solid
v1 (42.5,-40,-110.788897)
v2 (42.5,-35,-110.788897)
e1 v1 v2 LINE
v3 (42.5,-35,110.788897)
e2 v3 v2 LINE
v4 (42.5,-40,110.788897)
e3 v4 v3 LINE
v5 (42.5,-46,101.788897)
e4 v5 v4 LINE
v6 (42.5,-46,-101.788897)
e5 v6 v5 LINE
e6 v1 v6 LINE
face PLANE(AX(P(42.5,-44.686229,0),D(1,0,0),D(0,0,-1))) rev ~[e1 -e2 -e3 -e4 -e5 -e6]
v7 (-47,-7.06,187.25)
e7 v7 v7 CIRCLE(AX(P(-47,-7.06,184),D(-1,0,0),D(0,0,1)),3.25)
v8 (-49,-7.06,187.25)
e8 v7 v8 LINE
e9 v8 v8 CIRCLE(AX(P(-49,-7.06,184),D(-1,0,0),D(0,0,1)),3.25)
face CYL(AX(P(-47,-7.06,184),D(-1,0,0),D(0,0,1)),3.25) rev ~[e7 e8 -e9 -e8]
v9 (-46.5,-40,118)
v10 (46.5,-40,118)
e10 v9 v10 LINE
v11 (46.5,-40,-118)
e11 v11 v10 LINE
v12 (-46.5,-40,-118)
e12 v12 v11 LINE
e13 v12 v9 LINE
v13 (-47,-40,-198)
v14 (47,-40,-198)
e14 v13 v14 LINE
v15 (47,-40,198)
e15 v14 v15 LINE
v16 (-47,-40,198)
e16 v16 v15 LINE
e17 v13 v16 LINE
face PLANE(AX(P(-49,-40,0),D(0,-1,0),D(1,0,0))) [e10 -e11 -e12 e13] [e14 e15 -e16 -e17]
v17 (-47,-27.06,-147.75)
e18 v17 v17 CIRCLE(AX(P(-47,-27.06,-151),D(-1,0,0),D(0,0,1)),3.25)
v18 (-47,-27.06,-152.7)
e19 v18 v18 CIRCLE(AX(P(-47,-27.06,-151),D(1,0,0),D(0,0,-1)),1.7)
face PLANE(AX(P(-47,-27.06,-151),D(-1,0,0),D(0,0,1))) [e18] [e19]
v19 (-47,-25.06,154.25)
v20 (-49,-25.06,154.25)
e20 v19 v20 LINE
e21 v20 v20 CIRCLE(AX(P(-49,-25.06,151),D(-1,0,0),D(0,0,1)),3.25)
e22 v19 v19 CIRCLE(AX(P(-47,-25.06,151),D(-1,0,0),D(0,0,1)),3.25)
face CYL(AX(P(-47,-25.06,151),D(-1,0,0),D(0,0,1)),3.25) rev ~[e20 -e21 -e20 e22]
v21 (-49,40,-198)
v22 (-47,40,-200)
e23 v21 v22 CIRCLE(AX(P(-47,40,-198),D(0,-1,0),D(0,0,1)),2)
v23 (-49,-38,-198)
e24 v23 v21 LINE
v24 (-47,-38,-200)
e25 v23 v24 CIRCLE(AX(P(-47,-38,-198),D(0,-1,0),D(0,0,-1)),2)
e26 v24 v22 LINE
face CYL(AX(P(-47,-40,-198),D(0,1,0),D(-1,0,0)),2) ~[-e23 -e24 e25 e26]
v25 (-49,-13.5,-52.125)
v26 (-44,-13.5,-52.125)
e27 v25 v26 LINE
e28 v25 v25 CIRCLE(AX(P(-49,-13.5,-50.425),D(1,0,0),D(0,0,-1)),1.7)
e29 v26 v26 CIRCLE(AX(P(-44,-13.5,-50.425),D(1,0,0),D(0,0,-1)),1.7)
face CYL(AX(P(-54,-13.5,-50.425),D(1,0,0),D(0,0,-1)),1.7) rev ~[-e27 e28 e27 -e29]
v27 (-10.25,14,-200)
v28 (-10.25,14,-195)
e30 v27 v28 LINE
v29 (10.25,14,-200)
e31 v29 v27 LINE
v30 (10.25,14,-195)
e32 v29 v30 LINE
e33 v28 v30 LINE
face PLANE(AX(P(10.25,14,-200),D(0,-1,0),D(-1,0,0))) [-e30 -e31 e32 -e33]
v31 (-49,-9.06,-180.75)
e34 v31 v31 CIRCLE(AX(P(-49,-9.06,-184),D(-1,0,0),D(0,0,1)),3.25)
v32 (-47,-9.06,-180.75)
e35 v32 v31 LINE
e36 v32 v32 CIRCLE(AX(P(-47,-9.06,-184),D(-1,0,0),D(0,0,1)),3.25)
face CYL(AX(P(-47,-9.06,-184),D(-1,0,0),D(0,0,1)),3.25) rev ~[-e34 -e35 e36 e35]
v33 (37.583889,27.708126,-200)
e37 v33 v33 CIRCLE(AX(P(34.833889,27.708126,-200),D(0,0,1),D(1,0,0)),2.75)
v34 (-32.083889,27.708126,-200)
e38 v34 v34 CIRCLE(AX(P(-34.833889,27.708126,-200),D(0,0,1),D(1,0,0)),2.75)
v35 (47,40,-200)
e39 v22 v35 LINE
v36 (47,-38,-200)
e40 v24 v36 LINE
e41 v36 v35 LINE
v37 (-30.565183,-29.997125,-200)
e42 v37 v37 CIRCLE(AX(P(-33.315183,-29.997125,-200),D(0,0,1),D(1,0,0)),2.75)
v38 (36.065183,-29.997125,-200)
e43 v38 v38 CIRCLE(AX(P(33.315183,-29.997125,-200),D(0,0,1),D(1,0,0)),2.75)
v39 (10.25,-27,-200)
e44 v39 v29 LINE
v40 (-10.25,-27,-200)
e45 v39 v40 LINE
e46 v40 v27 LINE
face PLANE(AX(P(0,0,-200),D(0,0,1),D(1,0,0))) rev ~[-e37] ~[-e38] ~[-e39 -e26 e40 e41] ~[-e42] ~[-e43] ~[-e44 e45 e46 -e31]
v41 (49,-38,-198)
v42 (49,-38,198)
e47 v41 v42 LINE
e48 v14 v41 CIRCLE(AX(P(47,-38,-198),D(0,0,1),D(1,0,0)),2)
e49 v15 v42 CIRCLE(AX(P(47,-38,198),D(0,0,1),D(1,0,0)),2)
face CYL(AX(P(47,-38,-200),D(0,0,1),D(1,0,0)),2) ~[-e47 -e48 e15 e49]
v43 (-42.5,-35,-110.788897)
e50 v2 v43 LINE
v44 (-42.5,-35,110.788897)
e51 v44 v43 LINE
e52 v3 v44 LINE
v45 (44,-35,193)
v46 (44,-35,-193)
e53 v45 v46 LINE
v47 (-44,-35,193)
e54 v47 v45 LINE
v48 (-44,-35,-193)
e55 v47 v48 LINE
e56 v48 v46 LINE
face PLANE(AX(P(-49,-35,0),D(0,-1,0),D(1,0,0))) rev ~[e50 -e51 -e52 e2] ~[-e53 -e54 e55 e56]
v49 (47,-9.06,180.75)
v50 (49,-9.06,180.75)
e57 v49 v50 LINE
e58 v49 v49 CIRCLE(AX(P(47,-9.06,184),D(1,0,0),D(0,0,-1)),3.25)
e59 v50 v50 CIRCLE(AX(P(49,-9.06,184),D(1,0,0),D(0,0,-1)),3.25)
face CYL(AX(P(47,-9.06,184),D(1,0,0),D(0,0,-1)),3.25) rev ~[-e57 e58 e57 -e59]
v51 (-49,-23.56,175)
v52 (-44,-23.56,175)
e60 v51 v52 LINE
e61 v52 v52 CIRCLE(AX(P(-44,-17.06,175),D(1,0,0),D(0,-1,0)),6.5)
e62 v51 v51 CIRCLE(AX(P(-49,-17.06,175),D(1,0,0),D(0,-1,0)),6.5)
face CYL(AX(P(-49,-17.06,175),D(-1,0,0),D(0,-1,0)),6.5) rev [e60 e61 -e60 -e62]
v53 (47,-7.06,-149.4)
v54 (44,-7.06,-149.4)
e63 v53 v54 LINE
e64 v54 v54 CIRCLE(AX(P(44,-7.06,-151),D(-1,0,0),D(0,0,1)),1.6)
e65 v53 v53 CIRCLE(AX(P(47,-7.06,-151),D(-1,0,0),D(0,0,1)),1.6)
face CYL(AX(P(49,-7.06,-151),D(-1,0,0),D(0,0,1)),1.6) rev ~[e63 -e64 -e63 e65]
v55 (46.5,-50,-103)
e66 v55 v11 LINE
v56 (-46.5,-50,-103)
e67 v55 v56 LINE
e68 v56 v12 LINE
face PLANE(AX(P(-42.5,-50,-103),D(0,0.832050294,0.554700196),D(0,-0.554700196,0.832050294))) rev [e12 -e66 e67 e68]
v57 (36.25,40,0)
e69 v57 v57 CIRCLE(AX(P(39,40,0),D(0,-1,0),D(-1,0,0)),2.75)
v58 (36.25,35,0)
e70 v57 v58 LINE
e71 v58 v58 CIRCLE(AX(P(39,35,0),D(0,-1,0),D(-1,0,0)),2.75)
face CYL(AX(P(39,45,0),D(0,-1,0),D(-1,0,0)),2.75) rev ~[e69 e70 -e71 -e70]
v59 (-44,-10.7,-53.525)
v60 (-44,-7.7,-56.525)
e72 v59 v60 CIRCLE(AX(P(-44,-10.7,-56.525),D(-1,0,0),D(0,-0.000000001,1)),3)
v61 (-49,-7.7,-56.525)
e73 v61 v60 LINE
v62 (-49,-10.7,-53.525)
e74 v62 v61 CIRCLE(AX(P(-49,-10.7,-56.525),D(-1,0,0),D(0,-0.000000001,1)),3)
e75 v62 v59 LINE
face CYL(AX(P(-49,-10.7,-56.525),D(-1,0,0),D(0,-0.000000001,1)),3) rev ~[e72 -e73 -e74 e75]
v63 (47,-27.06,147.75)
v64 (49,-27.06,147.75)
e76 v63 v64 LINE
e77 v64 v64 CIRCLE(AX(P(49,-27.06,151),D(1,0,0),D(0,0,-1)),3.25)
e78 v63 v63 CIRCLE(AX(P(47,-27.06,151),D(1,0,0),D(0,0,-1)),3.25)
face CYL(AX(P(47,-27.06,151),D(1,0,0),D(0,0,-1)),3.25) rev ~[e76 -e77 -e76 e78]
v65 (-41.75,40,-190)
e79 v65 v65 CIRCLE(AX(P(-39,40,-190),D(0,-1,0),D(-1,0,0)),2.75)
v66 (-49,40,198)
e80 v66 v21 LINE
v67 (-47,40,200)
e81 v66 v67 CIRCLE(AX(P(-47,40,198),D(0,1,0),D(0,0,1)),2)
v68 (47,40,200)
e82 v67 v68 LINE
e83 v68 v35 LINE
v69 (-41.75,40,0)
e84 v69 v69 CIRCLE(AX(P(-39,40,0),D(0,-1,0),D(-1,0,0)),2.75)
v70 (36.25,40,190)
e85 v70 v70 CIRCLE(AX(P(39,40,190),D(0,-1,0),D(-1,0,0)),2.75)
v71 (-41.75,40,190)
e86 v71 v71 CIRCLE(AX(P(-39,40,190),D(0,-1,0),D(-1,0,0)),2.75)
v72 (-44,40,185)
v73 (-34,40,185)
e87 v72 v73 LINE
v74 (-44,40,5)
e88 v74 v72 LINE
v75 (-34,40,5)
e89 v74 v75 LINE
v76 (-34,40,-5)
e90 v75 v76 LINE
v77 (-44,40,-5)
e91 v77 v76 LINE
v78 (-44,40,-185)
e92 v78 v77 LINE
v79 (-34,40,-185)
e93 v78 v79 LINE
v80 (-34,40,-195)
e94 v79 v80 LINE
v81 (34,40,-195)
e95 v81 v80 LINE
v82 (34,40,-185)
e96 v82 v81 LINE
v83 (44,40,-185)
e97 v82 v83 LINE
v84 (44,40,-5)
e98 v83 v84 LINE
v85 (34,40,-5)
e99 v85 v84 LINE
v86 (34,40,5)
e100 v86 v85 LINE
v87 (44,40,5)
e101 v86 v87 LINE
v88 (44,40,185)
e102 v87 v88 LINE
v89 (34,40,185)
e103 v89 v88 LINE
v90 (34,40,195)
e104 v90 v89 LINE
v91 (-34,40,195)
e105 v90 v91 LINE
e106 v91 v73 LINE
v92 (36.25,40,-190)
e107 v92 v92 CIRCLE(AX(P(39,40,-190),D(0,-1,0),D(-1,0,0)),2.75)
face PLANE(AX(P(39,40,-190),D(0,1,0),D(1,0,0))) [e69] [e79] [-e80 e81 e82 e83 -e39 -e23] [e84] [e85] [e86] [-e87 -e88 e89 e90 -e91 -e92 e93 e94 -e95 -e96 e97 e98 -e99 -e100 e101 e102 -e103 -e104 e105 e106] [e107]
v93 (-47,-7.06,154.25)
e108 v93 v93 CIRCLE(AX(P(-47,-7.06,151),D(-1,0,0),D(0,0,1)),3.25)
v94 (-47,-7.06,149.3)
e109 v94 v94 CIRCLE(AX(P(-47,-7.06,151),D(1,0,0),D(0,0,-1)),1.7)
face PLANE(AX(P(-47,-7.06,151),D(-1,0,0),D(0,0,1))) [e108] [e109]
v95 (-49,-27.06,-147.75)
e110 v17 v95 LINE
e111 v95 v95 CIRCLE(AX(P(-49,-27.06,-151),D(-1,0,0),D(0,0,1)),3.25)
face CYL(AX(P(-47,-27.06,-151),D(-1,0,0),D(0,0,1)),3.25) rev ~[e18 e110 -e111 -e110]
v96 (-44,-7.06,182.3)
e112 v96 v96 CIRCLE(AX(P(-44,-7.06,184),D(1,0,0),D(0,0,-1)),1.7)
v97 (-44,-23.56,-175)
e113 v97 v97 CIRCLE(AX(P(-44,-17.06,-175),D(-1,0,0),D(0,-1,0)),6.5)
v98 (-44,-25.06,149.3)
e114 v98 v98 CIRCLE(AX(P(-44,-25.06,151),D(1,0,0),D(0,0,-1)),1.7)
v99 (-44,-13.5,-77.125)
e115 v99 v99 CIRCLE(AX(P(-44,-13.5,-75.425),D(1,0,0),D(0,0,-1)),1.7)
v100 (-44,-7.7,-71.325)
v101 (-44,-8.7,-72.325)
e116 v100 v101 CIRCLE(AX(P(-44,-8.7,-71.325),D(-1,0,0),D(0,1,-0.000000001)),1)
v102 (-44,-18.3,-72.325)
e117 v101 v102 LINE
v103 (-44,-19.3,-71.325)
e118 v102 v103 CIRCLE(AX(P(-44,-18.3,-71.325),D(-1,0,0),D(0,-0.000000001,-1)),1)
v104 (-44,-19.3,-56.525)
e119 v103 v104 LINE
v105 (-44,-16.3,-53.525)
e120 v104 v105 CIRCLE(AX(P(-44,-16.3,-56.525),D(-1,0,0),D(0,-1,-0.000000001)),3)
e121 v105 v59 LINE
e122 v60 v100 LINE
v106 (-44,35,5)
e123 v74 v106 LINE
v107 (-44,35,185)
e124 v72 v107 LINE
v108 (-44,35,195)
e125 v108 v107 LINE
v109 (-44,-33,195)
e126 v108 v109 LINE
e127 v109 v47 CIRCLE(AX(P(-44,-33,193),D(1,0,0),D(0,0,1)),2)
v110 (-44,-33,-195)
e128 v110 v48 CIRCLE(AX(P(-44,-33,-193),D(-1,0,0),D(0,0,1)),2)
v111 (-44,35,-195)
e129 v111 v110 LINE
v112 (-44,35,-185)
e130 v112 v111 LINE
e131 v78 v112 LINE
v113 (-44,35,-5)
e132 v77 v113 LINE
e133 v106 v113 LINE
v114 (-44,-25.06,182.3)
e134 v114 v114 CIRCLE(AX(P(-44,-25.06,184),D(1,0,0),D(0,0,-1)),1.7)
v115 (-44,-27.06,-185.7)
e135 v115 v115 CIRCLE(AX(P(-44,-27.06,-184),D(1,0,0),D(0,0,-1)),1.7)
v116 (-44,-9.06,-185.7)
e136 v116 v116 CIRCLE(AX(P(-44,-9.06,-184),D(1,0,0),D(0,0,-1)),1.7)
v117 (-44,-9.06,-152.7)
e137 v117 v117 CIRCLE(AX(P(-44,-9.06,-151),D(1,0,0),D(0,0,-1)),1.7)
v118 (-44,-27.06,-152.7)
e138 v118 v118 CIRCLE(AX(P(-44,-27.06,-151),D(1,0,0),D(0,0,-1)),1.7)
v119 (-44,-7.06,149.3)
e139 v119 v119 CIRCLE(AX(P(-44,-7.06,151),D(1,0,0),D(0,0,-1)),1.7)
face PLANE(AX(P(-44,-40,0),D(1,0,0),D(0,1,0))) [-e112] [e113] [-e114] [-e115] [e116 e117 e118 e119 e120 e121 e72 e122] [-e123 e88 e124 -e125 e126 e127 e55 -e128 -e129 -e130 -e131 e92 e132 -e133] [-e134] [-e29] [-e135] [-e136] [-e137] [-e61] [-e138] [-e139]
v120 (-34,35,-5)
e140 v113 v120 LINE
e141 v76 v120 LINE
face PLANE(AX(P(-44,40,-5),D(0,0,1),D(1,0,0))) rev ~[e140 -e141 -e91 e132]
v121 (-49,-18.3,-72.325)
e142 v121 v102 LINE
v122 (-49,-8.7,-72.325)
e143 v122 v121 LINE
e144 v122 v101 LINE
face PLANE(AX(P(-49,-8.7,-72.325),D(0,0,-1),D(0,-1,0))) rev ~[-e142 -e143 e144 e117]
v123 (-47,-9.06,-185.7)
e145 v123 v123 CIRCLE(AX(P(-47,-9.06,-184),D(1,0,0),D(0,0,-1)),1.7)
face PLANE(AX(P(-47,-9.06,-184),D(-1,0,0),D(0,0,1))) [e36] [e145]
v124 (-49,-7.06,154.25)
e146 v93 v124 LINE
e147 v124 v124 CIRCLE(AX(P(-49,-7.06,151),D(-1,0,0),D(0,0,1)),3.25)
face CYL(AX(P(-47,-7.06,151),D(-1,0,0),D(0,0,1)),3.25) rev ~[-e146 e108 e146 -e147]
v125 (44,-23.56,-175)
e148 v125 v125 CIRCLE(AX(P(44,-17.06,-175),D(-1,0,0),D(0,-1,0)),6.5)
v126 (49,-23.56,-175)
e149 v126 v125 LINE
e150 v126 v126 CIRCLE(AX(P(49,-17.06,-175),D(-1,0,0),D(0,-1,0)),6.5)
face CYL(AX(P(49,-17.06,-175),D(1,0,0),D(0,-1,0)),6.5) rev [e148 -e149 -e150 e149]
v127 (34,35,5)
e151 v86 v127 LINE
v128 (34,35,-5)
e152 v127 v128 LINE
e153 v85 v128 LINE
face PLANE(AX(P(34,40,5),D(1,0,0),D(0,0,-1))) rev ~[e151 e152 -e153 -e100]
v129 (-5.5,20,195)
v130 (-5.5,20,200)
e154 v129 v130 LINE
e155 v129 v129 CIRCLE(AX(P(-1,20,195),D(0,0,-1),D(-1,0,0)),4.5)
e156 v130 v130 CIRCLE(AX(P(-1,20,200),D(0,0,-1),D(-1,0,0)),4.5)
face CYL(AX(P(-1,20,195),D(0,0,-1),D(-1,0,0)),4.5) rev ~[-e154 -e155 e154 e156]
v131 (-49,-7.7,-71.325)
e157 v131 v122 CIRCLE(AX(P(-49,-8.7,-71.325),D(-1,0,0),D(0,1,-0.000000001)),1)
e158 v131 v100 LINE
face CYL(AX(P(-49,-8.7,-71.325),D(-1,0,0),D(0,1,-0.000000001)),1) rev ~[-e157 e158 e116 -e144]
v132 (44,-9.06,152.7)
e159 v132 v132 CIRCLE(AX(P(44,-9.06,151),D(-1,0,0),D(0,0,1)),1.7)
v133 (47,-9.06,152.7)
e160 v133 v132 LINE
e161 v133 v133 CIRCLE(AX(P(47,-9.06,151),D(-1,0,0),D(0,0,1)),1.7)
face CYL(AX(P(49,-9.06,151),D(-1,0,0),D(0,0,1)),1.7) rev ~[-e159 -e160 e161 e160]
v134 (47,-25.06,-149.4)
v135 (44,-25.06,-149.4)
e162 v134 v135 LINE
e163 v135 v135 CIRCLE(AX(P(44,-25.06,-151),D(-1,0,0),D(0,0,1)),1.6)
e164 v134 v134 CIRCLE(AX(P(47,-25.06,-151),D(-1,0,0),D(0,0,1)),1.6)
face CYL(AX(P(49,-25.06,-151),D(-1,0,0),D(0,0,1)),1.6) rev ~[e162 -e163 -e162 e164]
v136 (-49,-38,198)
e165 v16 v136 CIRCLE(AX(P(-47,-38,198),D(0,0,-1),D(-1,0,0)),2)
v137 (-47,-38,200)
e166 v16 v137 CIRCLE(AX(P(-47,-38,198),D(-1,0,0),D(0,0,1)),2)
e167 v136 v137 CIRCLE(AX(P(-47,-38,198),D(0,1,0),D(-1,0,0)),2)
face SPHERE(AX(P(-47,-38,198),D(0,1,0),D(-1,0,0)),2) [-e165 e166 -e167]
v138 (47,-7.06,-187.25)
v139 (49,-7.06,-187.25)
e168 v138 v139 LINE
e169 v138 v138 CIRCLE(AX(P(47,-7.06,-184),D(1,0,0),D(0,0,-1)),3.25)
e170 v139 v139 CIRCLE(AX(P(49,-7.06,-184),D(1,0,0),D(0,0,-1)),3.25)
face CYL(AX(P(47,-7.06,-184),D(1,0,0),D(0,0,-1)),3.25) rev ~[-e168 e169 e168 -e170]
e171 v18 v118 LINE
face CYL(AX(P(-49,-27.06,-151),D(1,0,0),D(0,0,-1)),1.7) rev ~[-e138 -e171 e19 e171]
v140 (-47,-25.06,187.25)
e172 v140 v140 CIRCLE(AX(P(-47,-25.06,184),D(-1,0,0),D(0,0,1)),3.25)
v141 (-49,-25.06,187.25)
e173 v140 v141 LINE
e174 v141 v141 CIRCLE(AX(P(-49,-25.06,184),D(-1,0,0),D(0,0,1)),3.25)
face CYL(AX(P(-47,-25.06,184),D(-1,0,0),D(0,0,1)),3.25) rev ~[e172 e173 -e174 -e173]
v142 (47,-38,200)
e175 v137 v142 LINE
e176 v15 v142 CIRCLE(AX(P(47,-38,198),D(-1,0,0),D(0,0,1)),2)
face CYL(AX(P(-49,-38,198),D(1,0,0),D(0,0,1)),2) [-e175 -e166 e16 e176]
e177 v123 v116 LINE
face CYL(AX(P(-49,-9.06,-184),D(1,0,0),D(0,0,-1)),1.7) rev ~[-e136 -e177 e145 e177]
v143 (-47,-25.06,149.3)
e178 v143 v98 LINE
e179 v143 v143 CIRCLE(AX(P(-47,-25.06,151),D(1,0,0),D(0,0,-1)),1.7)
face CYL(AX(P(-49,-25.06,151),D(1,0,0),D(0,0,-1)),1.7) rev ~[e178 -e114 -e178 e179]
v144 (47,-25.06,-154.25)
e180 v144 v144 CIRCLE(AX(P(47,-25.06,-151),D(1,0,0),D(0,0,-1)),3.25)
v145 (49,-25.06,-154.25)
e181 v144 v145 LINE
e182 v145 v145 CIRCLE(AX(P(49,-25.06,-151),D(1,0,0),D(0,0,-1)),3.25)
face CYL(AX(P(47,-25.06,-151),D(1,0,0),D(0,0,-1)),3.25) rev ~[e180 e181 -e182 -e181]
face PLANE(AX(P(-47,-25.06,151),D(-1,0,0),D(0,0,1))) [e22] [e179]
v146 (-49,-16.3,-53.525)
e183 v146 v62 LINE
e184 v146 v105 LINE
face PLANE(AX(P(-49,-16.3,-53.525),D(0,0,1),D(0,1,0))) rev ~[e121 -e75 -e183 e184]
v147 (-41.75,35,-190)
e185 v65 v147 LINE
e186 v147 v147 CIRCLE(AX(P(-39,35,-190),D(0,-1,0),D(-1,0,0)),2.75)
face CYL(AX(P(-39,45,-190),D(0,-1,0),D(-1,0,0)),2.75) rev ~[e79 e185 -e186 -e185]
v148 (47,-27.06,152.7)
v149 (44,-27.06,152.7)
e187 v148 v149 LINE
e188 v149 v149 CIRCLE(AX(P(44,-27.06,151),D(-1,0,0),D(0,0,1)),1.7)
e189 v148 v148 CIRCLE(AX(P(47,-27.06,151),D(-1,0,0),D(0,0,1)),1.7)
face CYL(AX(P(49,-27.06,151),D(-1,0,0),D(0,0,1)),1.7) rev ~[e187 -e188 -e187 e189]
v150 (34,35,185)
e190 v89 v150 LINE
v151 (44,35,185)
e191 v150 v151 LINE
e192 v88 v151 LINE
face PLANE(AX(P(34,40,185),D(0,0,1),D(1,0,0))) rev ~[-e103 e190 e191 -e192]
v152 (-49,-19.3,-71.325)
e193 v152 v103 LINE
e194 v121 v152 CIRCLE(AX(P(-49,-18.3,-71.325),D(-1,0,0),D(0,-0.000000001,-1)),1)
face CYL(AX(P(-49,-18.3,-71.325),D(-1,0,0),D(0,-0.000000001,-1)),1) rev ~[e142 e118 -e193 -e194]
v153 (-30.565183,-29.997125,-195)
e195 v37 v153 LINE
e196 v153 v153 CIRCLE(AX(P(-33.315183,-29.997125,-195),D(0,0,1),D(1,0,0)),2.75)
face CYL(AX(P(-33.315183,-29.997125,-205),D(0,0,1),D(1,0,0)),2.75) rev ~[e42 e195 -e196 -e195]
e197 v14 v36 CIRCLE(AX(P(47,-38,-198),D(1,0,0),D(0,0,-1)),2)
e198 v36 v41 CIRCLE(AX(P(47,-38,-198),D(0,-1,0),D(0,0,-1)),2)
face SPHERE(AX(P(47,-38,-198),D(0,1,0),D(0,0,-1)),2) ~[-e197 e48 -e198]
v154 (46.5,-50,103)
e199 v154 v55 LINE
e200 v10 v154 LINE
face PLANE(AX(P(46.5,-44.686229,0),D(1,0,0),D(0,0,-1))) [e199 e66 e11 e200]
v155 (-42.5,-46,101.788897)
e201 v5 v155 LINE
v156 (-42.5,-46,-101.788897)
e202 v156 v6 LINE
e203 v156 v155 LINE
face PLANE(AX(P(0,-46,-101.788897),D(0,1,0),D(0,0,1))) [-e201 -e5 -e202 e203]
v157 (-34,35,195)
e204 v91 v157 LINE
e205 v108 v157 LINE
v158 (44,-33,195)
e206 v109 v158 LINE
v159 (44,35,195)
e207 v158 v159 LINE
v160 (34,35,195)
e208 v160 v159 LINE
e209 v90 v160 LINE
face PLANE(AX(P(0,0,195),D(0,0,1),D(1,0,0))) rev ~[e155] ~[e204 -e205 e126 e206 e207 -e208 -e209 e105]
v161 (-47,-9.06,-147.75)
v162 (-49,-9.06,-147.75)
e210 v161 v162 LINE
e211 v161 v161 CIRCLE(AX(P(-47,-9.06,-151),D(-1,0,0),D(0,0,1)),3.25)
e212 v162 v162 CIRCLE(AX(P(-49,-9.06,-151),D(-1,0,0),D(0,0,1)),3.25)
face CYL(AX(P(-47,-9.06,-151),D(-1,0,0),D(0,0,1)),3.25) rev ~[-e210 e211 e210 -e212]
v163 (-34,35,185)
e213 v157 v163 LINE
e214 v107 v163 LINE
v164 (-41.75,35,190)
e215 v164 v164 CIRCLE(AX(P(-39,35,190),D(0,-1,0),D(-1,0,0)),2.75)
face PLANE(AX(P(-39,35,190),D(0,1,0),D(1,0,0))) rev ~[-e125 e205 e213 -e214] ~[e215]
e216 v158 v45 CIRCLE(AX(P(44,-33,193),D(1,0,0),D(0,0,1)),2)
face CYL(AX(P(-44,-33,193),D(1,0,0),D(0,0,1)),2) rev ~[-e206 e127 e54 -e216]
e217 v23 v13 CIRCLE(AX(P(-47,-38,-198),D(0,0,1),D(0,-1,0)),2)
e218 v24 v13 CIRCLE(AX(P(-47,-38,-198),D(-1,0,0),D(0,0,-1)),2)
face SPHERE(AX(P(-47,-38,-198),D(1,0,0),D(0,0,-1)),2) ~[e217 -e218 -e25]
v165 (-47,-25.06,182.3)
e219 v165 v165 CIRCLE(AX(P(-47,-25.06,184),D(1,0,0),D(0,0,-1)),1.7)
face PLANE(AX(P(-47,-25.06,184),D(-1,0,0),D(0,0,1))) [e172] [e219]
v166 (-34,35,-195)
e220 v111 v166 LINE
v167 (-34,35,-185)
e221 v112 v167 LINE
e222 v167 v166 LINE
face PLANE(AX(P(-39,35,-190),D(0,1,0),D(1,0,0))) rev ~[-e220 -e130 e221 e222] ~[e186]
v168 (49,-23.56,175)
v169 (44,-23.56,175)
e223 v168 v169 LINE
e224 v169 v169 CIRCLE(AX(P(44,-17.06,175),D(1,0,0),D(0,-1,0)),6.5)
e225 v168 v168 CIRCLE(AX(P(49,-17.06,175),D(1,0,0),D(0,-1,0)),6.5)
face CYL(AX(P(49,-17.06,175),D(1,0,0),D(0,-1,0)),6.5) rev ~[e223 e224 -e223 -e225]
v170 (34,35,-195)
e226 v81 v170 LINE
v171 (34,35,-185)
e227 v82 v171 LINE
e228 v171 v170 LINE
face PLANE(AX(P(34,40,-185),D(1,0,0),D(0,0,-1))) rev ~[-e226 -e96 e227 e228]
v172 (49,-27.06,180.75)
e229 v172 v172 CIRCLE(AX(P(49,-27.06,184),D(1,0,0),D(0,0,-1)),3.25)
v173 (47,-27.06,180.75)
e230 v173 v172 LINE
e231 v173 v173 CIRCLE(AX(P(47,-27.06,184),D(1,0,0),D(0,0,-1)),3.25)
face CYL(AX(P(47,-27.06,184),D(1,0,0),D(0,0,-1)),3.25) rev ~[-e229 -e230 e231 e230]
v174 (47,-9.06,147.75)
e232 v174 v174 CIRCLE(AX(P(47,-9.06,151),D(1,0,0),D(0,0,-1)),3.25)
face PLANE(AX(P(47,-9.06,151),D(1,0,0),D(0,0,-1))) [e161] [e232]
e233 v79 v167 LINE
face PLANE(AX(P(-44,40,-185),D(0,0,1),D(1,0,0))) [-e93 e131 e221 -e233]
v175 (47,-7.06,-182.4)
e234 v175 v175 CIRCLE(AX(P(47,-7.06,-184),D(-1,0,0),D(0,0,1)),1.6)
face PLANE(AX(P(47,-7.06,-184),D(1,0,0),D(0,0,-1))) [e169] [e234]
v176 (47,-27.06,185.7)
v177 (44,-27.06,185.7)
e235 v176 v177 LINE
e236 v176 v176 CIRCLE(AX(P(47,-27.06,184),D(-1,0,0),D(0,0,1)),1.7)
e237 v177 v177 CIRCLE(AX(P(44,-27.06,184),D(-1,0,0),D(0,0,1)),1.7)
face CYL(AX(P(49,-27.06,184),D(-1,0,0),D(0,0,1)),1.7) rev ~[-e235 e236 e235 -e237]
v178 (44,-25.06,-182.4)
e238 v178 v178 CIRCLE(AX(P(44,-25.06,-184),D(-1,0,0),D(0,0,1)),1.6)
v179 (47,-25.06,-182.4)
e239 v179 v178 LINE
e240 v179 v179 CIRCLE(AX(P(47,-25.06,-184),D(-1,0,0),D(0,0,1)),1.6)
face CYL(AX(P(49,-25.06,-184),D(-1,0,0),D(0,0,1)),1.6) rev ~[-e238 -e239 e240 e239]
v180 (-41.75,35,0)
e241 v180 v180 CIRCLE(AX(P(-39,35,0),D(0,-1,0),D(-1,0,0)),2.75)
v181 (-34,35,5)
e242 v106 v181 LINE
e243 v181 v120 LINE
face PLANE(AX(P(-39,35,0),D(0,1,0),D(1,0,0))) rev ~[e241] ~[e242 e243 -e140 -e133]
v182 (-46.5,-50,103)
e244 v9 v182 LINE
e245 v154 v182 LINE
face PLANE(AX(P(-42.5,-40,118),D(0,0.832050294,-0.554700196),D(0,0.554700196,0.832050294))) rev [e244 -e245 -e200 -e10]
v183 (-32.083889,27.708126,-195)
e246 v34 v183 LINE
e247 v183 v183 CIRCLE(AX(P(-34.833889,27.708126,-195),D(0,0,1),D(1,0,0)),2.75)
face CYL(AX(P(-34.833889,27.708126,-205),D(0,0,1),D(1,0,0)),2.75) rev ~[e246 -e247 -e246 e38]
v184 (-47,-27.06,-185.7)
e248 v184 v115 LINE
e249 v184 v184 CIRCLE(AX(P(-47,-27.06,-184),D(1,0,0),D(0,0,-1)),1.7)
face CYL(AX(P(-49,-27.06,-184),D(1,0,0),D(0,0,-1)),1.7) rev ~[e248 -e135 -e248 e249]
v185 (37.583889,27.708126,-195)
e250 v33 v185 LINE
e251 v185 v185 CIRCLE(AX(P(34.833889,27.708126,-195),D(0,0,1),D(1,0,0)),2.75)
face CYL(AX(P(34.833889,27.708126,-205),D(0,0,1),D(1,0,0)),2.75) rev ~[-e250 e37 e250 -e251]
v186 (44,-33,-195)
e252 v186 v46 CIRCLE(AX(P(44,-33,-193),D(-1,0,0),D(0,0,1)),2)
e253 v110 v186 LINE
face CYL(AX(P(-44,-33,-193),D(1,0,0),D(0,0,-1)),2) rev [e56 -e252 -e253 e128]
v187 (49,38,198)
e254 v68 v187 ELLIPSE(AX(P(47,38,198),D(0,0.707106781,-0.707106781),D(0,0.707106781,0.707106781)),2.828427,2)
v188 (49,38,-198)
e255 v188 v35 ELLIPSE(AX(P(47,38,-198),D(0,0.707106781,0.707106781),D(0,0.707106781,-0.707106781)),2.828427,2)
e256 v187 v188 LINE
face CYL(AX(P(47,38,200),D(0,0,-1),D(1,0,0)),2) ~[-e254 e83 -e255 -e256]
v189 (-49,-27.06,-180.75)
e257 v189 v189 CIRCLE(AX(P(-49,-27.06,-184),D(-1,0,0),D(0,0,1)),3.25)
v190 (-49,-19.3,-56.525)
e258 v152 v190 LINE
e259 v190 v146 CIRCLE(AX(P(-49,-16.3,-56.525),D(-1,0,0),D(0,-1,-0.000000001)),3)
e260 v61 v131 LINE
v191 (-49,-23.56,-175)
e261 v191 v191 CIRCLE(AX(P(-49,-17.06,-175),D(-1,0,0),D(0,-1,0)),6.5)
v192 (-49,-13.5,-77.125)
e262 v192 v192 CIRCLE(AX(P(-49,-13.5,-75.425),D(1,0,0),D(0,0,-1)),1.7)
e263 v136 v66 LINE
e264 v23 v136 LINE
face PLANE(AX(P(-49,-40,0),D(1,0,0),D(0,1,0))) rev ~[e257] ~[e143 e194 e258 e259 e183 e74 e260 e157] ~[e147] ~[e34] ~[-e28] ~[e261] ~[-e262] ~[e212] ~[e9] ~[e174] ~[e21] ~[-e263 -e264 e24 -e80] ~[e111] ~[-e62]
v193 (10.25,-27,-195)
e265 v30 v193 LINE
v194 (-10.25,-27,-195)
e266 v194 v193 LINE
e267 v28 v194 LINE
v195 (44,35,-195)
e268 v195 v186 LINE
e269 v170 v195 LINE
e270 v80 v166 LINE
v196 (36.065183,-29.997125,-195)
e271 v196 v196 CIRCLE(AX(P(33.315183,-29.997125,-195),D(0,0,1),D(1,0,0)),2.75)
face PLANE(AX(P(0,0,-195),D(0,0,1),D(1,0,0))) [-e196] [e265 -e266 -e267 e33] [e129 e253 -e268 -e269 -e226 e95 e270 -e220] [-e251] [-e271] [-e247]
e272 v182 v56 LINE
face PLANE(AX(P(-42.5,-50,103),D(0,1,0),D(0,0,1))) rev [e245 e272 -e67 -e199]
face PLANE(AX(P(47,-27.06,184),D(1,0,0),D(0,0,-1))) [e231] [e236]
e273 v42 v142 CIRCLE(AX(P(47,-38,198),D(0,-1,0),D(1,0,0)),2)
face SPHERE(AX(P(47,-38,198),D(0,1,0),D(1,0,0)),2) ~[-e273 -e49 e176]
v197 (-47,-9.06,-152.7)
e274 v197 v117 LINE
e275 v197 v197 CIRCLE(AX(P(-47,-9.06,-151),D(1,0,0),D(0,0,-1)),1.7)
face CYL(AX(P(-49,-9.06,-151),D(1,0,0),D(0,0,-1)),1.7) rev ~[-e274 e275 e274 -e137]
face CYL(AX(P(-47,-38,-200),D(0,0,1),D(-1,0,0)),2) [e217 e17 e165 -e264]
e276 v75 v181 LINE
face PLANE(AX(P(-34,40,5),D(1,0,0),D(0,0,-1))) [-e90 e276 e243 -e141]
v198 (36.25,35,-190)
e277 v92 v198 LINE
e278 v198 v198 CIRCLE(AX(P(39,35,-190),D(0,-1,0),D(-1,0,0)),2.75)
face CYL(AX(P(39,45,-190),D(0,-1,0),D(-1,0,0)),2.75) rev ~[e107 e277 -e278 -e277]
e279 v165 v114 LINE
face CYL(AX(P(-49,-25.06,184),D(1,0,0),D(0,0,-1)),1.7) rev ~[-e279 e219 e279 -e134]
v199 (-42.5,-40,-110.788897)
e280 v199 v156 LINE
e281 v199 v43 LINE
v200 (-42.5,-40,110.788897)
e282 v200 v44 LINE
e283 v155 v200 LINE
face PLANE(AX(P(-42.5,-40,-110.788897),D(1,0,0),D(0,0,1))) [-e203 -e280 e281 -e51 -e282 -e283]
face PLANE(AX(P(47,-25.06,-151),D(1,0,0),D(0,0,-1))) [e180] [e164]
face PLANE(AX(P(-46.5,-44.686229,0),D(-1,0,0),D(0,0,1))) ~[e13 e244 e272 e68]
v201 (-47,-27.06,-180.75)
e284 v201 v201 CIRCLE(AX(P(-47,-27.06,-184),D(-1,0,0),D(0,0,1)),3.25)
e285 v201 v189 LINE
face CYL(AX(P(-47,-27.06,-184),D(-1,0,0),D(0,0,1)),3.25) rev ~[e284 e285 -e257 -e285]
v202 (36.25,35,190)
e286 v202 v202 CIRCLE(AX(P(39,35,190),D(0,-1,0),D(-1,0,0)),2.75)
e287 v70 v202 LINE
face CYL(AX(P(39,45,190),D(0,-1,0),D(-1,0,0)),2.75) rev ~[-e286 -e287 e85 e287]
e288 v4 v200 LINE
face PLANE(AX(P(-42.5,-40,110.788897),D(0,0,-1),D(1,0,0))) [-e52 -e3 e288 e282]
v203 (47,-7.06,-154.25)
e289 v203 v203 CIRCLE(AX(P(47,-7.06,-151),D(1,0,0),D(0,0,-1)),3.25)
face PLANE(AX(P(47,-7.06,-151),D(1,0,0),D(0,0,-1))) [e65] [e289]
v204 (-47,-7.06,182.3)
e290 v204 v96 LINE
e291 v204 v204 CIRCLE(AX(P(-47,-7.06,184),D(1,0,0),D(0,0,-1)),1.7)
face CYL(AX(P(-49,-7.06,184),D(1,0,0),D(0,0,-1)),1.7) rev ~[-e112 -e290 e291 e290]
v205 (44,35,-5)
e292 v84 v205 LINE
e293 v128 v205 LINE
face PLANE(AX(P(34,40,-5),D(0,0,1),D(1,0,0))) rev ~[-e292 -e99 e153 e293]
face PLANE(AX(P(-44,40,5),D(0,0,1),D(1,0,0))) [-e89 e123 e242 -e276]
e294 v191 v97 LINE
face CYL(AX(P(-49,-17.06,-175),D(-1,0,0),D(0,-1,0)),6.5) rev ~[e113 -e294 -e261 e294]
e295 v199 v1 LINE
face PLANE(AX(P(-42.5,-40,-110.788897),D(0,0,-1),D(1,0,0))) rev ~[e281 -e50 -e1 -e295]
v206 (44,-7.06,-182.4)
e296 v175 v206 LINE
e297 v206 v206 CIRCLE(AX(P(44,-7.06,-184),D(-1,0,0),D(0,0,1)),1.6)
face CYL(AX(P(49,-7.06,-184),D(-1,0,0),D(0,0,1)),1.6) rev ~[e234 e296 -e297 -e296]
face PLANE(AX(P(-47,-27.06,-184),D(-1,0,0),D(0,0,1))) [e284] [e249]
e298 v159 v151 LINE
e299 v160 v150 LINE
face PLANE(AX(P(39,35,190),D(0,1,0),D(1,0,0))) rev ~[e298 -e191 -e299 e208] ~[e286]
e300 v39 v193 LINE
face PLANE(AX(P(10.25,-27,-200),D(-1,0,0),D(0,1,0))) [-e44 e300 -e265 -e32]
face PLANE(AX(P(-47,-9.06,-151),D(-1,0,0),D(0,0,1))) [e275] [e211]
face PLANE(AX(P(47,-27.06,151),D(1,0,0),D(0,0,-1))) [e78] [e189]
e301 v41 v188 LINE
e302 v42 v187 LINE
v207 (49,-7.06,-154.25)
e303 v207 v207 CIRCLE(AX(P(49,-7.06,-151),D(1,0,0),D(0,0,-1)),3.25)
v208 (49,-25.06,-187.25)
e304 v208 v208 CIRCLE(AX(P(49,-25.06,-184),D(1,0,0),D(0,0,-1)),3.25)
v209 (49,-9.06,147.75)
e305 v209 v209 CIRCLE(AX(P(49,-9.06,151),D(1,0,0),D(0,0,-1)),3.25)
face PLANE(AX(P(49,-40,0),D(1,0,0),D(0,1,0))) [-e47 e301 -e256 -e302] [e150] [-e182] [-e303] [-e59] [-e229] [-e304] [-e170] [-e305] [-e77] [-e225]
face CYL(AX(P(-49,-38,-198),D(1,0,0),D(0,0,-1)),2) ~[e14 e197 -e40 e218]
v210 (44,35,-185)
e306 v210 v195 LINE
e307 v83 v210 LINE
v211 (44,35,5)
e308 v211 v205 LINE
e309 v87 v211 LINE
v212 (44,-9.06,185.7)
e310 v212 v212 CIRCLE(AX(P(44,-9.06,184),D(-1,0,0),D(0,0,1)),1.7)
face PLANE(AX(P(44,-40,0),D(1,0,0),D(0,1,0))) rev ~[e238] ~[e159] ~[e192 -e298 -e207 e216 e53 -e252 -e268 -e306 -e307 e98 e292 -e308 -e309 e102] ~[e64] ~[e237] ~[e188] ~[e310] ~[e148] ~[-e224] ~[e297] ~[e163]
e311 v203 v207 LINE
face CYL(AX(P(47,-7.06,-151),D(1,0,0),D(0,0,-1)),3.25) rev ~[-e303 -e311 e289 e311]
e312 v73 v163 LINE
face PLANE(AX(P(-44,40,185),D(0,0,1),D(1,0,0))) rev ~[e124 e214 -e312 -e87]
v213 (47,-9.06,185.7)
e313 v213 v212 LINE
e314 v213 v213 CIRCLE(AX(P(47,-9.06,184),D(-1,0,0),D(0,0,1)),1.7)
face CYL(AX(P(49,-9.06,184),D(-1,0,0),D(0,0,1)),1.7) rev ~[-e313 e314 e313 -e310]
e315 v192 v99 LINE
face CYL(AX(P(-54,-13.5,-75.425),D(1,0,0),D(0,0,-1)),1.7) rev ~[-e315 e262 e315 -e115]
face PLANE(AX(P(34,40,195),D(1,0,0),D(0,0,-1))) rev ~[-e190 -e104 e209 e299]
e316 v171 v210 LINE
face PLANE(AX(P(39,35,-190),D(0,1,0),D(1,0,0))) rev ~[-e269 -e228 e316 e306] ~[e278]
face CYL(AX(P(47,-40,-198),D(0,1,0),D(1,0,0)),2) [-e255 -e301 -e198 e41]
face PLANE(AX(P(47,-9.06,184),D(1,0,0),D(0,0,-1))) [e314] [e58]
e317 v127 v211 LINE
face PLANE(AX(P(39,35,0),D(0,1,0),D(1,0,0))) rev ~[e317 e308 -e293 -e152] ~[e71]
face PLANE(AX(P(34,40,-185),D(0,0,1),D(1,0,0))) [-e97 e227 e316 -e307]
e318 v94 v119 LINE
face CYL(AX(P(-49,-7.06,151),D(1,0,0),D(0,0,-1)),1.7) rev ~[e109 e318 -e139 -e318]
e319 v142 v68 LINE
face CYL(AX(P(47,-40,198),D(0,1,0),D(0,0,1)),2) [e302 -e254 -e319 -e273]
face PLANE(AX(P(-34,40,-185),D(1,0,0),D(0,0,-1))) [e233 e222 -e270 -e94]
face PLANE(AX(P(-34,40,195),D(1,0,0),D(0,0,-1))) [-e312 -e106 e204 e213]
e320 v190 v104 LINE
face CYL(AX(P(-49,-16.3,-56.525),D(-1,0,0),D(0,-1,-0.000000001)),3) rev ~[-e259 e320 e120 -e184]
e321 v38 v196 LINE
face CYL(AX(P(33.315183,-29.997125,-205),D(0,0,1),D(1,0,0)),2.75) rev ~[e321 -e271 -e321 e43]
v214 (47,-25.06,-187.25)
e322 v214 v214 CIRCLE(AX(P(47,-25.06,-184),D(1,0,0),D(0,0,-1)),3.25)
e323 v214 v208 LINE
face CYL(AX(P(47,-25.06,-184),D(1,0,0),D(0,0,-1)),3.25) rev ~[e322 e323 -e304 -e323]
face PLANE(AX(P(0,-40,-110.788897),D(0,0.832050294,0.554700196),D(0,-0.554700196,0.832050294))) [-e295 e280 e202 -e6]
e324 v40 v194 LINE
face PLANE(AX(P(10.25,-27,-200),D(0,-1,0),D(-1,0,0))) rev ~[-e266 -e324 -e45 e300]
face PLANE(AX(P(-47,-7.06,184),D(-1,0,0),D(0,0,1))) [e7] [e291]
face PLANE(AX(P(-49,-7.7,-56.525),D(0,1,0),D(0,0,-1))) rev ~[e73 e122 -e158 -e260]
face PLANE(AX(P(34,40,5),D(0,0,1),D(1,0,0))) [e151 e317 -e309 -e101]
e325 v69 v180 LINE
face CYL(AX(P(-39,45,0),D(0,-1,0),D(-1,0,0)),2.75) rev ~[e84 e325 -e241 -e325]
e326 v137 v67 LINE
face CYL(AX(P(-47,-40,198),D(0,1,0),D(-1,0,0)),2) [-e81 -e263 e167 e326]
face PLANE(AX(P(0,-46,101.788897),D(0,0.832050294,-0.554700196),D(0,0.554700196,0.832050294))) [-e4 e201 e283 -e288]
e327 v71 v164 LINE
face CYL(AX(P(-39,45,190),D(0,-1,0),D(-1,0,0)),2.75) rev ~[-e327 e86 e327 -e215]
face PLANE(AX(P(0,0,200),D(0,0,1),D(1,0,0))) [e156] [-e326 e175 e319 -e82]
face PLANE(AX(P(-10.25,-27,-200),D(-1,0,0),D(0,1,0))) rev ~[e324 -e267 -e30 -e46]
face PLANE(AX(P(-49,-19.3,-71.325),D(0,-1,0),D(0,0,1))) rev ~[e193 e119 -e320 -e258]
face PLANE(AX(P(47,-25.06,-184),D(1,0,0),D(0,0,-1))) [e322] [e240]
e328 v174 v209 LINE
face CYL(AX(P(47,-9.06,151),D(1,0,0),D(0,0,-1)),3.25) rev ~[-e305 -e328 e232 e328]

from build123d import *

# Parameters (mm, degrees)
CROQUIS1_W                                           = 98
CROQUIS1_H                                           = 80
SALIENTE_EXTRUIR1_DEPTH                              = 200
VACIADO1_T                                           = -5
REDONDEO1_R                                          = 2
CROQUIS6_R                                           = 4.5
CORTAR_EXTRUIR3_DEPTH                                = 401.03249868
REFRENTADO_PARA_TORNILLO_CON_CABEZA_PLAN_D           = 3.4
REFRENTADO_PARA_TORNILLO_CON_CABEZA_PLAN_DEPTH       = 5
REFRENTADO_PARA_TORNILLO_CON_CABEZA_PLAN_CBORE_D     = 6.5
REFRENTADO_PARA_TORNILLO_CON_CABEZA_PLAN_CBORE_DEPTH = 2
CORTAR_EXTRUIR5_REACH                                = 228.283
CROQUIS11_R                                          = 6.5
SIMETR_A3_AT_THE_SECOND_PLANE_COPY_1_REACH           = 228.283
SIMETR_A3_AT_THE_SECOND_PLANE_COPY_1_SKE_R           = 6.5
REFRENTADO_PARA_TORNILLO_CON_CABEZA_2_D              = 3.4
REFRENTADO_PARA_TORNILLO_CON_CABEZA_2_DEPTH          = 5
REFRENTADO_PARA_TORNILLO_CON_CABEZA_2_CBORE_D        = 6.5
REFRENTADO_PARA_TORNILLO_CON_CABEZA_2_CBORE_DEPTH    = 2
REFRENTADO_PARA_TORNILLO_CON_CABEZA_3_D              = 3.4
REFRENTADO_PARA_TORNILLO_CON_CABEZA_3_DEPTH          = 5
REFRENTADO_PARA_TORNILLO_CON_CABEZA_3_CBORE_D        = 6.5
REFRENTADO_PARA_TORNILLO_CON_CABEZA_3_CBORE_DEPTH    = 2
REFRENTADO_PARA_TORNILLO_CON_CABEZA_4_D              = 3.2
REFRENTADO_PARA_TORNILLO_CON_CABEZA_4_DEPTH          = 5
REFRENTADO_PARA_TORNILLO_CON_CABEZA_4_CBORE_D        = 6.5
REFRENTADO_PARA_TORNILLO_CON_CABEZA_4_CBORE_DEPTH    = 2
CROQUIS21_W                                          = 20.5
CROQUIS21_H                                          = 41
CORTAR_EXTRUIR6_DEPTH                                = 10
SALIENTE_EXTRUIR2_DEPTH                              = 42.5
CORTAR_EXTRUIR7_REACH                                = 222.909
CROQUIS24_W                                          = 85
CROQUIS24_H                                          = 221.577794898
SALIENTE_EXTRUIR7_DEPTH                              = 4
CORTAR_EXTRUIR8_REACH                                = 230.263
TALADRO_DE_MARGEN_PARA_M31_D                         = 3.4
TALADRO_DE_MARGEN_PARA_M31_DEPTH                     = 5
TALADRO_DE_MARGEN_PARA_M51_D                         = 5.5
TALADRO_DE_MARGEN_PARA_M51_DEPTH                     = 5
CROQUIS30_W                                          = 10
CROQUIS30_H                                          = 10
SALIENTE_EXTRUIR8_DEPTH                              = 5
TALADRO_DE_MARGEN_PARA_M52_D                         = 5.5
TALADRO_DE_MARGEN_PARA_M52_DEPTH                     = 5


with BuildPart() as part:
    # Croquis1 → Saliente-Extruir1 (new, symmetric)
    with BuildSketch(Plane.XY):
        Rectangle(CROQUIS1_W, CROQUIS1_H)
    extrude(amount=SALIENTE_EXTRUIR1_DEPTH, both=True)

    # Vaciado1
    vaciado1_openings = [part.faces().sort_by_distance(p)[0] for p in [
        (0, 40, 0),
    ]]
    offset(amount=VACIADO1_T, openings=vaciado1_openings, kind=Kind.INTERSECTION)

    # Redondeo1
    redondeo1_edges = [part.edges().sort_by_distance(p)[0] for p in [
        (49, 0, 200),
        (0, -35, -195),
        (0, -35, 195),
        (-49, 0, 200),
        (49, 0, -200),
        (0, -40, -200),
        (-49, 0, -200),
        (49, 40, 0),
        (49, -40, 0),
        (-49, -40, 0),
        (0, -40, 200),
    ]]
    fillet(redondeo1_edges, radius=REDONDEO1_R)

    # Croquis6 → Cortar-Extruir3 (cut, through all)
    with BuildSketch(Plane(origin=(0, 0, 195), x_dir=(-1, 0, 0), z_dir=(0, 0, -1))):
        with Locations((1, 20)):
            Circle(CROQUIS6_R)
    extrude(amount=-CORTAR_EXTRUIR3_DEPTH, mode=Mode.SUBTRACT)

    # Refrentado para tornillo con cabeza plan
    with Locations(Plane.ZY.offset(49)):
        with Locations((-184, -27.06), (-184, -9.06), (-151, -9.06), (-151, -27.06)):
            CounterBoreHole(REFRENTADO_PARA_TORNILLO_CON_CABEZA_PLAN_D / 2, REFRENTADO_PARA_TORNILLO_CON_CABEZA_PLAN_CBORE_D / 2, REFRENTADO_PARA_TORNILLO_CON_CABEZA_PLAN_CBORE_DEPTH, depth=REFRENTADO_PARA_TORNILLO_CON_CABEZA_PLAN_DEPTH)

    # Croquis11 → Cortar-Extruir5 (cut, up to next)
    with BuildSketch(Plane.ZY.offset(49), mode=Mode.PRIVATE) as cortar_extruir5_sk1:
        with Locations(Location((-175, -17.06, 0), (0, 0, 270))):
            Circle(CROQUIS11_R)
    cortar_extruir5_tool1 = extrude(cortar_extruir5_sk1.sketch, amount=-CORTAR_EXTRUIR5_REACH, mode=Mode.PRIVATE) & part.part
    cortar_extruir5 = cortar_extruir5_tool1.solids().sort_by_distance((-49, -17.06, -175))[0]
    add(cortar_extruir5, mode=Mode.SUBTRACT)

    # Simetría3: Cortar-Extruir5 across plane
    add(cortar_extruir5.mirror(Plane.XY), mode=Mode.SUBTRACT)

    # Simetría3 at the second plane: Cortar-Extruir5 across plane
    add(cortar_extruir5.mirror(Plane(origin=(0, 0, 0), x_dir=(0, 0, 1), z_dir=(1, 0, 0))), mode=Mode.SUBTRACT)

    # Simetría3 at the second plane copy 1 ske → Simetría3 at the second plane copy 1 (cut, up to next)
    with BuildSketch(Plane(origin=(49, 0, 0), x_dir=(0, 0, -1), z_dir=(1, 0, 0)), mode=Mode.PRIVATE) as simetr_a3_at_the_second_plane_copy_1_sk1:
        with Locations(Location((-175, -17.06, 0), (0, 0, 270))):
            Circle(SIMETR_A3_AT_THE_SECOND_PLANE_COPY_1_SKE_R)
    simetr_a3_at_the_second_plane_copy_1_tool1 = extrude(simetr_a3_at_the_second_plane_copy_1_sk1.sketch, amount=-SIMETR_A3_AT_THE_SECOND_PLANE_COPY_1_REACH, mode=Mode.PRIVATE) & part.part
    add(simetr_a3_at_the_second_plane_copy_1_tool1.solids().sort_by_distance((49, -17.06, 175))[0], mode=Mode.SUBTRACT)

    # Refrentado para tornillo con cabeza  2
    with Locations(Plane.ZY.offset(49)):
        with Locations((151, -25.06), (151, -7.06), (184, -7.06), (184, -25.06)):
            CounterBoreHole(REFRENTADO_PARA_TORNILLO_CON_CABEZA_2_D / 2, REFRENTADO_PARA_TORNILLO_CON_CABEZA_2_CBORE_D / 2, REFRENTADO_PARA_TORNILLO_CON_CABEZA_2_CBORE_DEPTH, depth=REFRENTADO_PARA_TORNILLO_CON_CABEZA_2_DEPTH)

    # Refrentado para tornillo con cabeza  3
    with Locations(Plane(origin=(49, 0, 0), x_dir=(0, 0, -1), z_dir=(1, 0, 0))):
        with Locations((-151, -9.06), (-184, -9.06), (-184, -27.06), (-151, -27.06)):
            CounterBoreHole(REFRENTADO_PARA_TORNILLO_CON_CABEZA_3_D / 2, REFRENTADO_PARA_TORNILLO_CON_CABEZA_3_CBORE_D / 2, REFRENTADO_PARA_TORNILLO_CON_CABEZA_3_CBORE_DEPTH, depth=REFRENTADO_PARA_TORNILLO_CON_CABEZA_3_DEPTH)

    # Refrentado para tornillo con cabeza  4
    with Locations(Plane(origin=(49, 0, 0), x_dir=(0, 0, -1), z_dir=(1, 0, 0))):
        with Locations((151, -25.06), (151, -7.06), (184, -7.06), (184, -25.06)):
            CounterBoreHole(REFRENTADO_PARA_TORNILLO_CON_CABEZA_4_D / 2, REFRENTADO_PARA_TORNILLO_CON_CABEZA_4_CBORE_D / 2, REFRENTADO_PARA_TORNILLO_CON_CABEZA_4_CBORE_DEPTH, depth=REFRENTADO_PARA_TORNILLO_CON_CABEZA_4_DEPTH)

    # Croquis21 → Cortar-Extruir6 (cut)
    with BuildSketch(Plane(origin=(0, 0, -200), x_dir=(-1, 0, 0), z_dir=(0, 0, -1))):
        with Locations((0, -6.5)):
            Rectangle(CROQUIS21_W, CROQUIS21_H)
    extrude(amount=-CORTAR_EXTRUIR6_DEPTH, mode=Mode.SUBTRACT)

    # Croquis23 → Saliente-Extruir2 (add, symmetric)
    with BuildSketch(Plane(origin=(0, 0, 0), x_dir=(0, 0, -1), z_dir=(1, 0, 0))):
        Polygon((-118, -40), (-103, -50), (103, -50), (118, -40), (110.788897449, -40), (101.788897449, -46), (-101.788897449, -46), (-110.788897449, -40), align=None)
    extrude(amount=SALIENTE_EXTRUIR2_DEPTH, both=True)

    # Croquis24 → Cortar-Extruir7 (cut, up to next)
    with BuildSketch(Plane.XZ.offset(40), mode=Mode.PRIVATE) as cortar_extruir7_sk1:
        Rectangle(CROQUIS24_W, CROQUIS24_H)
    cortar_extruir7_tool1 = extrude(cortar_extruir7_sk1.sketch, amount=-CORTAR_EXTRUIR7_REACH, mode=Mode.PRIVATE) & part.part
    add(cortar_extruir7_tool1.solids().sort_by_distance((0, -40, 0))[0], mode=Mode.SUBTRACT)

    # Croquis25 → Saliente-Extruir7 (add)
    with BuildSketch(Plane(origin=(42.5, 0, 0), x_dir=(0, 0, -1), z_dir=(1, 0, 0))):
        Polygon((103, -50), (118, -40), (-118, -40), (-103, -50), align=None)
    saliente_extruir7 = extrude(amount=SALIENTE_EXTRUIR7_DEPTH)

    # Simetría4: Saliente-Extruir7 across plane
    add(saliente_extruir7.mirror(Plane(origin=(0, 0, 0), x_dir=(0, 0, 1), z_dir=(1, 0, 0))))

    # Croquis26 → Cortar-Extruir8 (cut, up to next)
    with BuildSketch(Plane.ZY.offset(49), mode=Mode.PRIVATE) as cortar_extruir8_sk1:
        with BuildLine():
            Line((-72.325, -8.7), (-72.325, -18.3))
            ThreePointArc((-72.325, -18.3), (-72.032106781, -19.007106781), (-71.325, -19.3))
            Line((-71.325, -19.3), (-56.525, -19.3))
            ThreePointArc((-56.525, -19.3), (-54.403679656, -18.421320344), (-53.525, -16.3))
            Line((-53.525, -16.3), (-53.525, -10.7))
            ThreePointArc((-53.525, -10.7), (-54.403679656, -8.578679656), (-56.525, -7.7))
            Line((-56.525, -7.7), (-71.325, -7.7))
            ThreePointArc((-71.325, -7.7), (-72.032106781, -7.992893219), (-72.325, -8.7))
        make_face()
    cortar_extruir8_tool1 = extrude(cortar_extruir8_sk1.sketch, amount=-CORTAR_EXTRUIR8_REACH, mode=Mode.PRIVATE) & part.part
    add(cortar_extruir8_tool1.solids().sort_by_distance((-49, -13.5, -63.064313))[0], mode=Mode.SUBTRACT)

    # Taladro de margen para M31
    with Locations(Plane.ZY.offset(49)):
        with Locations((-50.425, -13.5), (-75.425, -13.5)):
            Hole(TALADRO_DE_MARGEN_PARA_M31_D / 2, depth=TALADRO_DE_MARGEN_PARA_M31_DEPTH)

    # Taladro de margen para M51
    with Locations(Plane(origin=(0, 0, -200), x_dir=(-1, 0, 0), z_dir=(0, 0, -1))):
        with Locations((-34.833889062, 27.708126477), (0, 0), (34.833889062, 27.708126477), (33.315182526, -29.997125083), (-33.315182526, -29.997125083)):
            Hole(TALADRO_DE_MARGEN_PARA_M51_D / 2, depth=TALADRO_DE_MARGEN_PARA_M51_DEPTH)

    # Croquis30 → Saliente-Extruir8 (add)
    with BuildSketch(Plane(origin=(0, 40, 0), x_dir=(1, 0, 0), z_dir=(0, 1, 0))):
        with Locations((39, 190)):
            Rectangle(CROQUIS30_W, CROQUIS30_H)
        with Locations((-39, 190)):
            Rectangle(CROQUIS30_W, CROQUIS30_H)
        with Locations((-39, -190)):
            Rectangle(CROQUIS30_W, CROQUIS30_H)
        with Locations((39, -190)):
            Rectangle(CROQUIS30_W, CROQUIS30_H)
        with Locations((39, 0)):
            Rectangle(CROQUIS30_W, CROQUIS30_H)
        with Locations((-39, 0)):
            Rectangle(CROQUIS30_W, CROQUIS30_H)
    extrude(amount=-SALIENTE_EXTRUIR8_DEPTH)

    # Taladro de margen para M52
    with Locations(Plane(origin=(0, 40, 0), x_dir=(1, 0, 0), z_dir=(0, 1, 0))):
        with Locations((-39, -190), (-39, 190), (39, 0), (39, 190), (-39, 0), (39, -190)):
            Hole(TALADRO_DE_MARGEN_PARA_M52_D / 2, depth=TALADRO_DE_MARGEN_PARA_M52_DEPTH)


solid = part.part
